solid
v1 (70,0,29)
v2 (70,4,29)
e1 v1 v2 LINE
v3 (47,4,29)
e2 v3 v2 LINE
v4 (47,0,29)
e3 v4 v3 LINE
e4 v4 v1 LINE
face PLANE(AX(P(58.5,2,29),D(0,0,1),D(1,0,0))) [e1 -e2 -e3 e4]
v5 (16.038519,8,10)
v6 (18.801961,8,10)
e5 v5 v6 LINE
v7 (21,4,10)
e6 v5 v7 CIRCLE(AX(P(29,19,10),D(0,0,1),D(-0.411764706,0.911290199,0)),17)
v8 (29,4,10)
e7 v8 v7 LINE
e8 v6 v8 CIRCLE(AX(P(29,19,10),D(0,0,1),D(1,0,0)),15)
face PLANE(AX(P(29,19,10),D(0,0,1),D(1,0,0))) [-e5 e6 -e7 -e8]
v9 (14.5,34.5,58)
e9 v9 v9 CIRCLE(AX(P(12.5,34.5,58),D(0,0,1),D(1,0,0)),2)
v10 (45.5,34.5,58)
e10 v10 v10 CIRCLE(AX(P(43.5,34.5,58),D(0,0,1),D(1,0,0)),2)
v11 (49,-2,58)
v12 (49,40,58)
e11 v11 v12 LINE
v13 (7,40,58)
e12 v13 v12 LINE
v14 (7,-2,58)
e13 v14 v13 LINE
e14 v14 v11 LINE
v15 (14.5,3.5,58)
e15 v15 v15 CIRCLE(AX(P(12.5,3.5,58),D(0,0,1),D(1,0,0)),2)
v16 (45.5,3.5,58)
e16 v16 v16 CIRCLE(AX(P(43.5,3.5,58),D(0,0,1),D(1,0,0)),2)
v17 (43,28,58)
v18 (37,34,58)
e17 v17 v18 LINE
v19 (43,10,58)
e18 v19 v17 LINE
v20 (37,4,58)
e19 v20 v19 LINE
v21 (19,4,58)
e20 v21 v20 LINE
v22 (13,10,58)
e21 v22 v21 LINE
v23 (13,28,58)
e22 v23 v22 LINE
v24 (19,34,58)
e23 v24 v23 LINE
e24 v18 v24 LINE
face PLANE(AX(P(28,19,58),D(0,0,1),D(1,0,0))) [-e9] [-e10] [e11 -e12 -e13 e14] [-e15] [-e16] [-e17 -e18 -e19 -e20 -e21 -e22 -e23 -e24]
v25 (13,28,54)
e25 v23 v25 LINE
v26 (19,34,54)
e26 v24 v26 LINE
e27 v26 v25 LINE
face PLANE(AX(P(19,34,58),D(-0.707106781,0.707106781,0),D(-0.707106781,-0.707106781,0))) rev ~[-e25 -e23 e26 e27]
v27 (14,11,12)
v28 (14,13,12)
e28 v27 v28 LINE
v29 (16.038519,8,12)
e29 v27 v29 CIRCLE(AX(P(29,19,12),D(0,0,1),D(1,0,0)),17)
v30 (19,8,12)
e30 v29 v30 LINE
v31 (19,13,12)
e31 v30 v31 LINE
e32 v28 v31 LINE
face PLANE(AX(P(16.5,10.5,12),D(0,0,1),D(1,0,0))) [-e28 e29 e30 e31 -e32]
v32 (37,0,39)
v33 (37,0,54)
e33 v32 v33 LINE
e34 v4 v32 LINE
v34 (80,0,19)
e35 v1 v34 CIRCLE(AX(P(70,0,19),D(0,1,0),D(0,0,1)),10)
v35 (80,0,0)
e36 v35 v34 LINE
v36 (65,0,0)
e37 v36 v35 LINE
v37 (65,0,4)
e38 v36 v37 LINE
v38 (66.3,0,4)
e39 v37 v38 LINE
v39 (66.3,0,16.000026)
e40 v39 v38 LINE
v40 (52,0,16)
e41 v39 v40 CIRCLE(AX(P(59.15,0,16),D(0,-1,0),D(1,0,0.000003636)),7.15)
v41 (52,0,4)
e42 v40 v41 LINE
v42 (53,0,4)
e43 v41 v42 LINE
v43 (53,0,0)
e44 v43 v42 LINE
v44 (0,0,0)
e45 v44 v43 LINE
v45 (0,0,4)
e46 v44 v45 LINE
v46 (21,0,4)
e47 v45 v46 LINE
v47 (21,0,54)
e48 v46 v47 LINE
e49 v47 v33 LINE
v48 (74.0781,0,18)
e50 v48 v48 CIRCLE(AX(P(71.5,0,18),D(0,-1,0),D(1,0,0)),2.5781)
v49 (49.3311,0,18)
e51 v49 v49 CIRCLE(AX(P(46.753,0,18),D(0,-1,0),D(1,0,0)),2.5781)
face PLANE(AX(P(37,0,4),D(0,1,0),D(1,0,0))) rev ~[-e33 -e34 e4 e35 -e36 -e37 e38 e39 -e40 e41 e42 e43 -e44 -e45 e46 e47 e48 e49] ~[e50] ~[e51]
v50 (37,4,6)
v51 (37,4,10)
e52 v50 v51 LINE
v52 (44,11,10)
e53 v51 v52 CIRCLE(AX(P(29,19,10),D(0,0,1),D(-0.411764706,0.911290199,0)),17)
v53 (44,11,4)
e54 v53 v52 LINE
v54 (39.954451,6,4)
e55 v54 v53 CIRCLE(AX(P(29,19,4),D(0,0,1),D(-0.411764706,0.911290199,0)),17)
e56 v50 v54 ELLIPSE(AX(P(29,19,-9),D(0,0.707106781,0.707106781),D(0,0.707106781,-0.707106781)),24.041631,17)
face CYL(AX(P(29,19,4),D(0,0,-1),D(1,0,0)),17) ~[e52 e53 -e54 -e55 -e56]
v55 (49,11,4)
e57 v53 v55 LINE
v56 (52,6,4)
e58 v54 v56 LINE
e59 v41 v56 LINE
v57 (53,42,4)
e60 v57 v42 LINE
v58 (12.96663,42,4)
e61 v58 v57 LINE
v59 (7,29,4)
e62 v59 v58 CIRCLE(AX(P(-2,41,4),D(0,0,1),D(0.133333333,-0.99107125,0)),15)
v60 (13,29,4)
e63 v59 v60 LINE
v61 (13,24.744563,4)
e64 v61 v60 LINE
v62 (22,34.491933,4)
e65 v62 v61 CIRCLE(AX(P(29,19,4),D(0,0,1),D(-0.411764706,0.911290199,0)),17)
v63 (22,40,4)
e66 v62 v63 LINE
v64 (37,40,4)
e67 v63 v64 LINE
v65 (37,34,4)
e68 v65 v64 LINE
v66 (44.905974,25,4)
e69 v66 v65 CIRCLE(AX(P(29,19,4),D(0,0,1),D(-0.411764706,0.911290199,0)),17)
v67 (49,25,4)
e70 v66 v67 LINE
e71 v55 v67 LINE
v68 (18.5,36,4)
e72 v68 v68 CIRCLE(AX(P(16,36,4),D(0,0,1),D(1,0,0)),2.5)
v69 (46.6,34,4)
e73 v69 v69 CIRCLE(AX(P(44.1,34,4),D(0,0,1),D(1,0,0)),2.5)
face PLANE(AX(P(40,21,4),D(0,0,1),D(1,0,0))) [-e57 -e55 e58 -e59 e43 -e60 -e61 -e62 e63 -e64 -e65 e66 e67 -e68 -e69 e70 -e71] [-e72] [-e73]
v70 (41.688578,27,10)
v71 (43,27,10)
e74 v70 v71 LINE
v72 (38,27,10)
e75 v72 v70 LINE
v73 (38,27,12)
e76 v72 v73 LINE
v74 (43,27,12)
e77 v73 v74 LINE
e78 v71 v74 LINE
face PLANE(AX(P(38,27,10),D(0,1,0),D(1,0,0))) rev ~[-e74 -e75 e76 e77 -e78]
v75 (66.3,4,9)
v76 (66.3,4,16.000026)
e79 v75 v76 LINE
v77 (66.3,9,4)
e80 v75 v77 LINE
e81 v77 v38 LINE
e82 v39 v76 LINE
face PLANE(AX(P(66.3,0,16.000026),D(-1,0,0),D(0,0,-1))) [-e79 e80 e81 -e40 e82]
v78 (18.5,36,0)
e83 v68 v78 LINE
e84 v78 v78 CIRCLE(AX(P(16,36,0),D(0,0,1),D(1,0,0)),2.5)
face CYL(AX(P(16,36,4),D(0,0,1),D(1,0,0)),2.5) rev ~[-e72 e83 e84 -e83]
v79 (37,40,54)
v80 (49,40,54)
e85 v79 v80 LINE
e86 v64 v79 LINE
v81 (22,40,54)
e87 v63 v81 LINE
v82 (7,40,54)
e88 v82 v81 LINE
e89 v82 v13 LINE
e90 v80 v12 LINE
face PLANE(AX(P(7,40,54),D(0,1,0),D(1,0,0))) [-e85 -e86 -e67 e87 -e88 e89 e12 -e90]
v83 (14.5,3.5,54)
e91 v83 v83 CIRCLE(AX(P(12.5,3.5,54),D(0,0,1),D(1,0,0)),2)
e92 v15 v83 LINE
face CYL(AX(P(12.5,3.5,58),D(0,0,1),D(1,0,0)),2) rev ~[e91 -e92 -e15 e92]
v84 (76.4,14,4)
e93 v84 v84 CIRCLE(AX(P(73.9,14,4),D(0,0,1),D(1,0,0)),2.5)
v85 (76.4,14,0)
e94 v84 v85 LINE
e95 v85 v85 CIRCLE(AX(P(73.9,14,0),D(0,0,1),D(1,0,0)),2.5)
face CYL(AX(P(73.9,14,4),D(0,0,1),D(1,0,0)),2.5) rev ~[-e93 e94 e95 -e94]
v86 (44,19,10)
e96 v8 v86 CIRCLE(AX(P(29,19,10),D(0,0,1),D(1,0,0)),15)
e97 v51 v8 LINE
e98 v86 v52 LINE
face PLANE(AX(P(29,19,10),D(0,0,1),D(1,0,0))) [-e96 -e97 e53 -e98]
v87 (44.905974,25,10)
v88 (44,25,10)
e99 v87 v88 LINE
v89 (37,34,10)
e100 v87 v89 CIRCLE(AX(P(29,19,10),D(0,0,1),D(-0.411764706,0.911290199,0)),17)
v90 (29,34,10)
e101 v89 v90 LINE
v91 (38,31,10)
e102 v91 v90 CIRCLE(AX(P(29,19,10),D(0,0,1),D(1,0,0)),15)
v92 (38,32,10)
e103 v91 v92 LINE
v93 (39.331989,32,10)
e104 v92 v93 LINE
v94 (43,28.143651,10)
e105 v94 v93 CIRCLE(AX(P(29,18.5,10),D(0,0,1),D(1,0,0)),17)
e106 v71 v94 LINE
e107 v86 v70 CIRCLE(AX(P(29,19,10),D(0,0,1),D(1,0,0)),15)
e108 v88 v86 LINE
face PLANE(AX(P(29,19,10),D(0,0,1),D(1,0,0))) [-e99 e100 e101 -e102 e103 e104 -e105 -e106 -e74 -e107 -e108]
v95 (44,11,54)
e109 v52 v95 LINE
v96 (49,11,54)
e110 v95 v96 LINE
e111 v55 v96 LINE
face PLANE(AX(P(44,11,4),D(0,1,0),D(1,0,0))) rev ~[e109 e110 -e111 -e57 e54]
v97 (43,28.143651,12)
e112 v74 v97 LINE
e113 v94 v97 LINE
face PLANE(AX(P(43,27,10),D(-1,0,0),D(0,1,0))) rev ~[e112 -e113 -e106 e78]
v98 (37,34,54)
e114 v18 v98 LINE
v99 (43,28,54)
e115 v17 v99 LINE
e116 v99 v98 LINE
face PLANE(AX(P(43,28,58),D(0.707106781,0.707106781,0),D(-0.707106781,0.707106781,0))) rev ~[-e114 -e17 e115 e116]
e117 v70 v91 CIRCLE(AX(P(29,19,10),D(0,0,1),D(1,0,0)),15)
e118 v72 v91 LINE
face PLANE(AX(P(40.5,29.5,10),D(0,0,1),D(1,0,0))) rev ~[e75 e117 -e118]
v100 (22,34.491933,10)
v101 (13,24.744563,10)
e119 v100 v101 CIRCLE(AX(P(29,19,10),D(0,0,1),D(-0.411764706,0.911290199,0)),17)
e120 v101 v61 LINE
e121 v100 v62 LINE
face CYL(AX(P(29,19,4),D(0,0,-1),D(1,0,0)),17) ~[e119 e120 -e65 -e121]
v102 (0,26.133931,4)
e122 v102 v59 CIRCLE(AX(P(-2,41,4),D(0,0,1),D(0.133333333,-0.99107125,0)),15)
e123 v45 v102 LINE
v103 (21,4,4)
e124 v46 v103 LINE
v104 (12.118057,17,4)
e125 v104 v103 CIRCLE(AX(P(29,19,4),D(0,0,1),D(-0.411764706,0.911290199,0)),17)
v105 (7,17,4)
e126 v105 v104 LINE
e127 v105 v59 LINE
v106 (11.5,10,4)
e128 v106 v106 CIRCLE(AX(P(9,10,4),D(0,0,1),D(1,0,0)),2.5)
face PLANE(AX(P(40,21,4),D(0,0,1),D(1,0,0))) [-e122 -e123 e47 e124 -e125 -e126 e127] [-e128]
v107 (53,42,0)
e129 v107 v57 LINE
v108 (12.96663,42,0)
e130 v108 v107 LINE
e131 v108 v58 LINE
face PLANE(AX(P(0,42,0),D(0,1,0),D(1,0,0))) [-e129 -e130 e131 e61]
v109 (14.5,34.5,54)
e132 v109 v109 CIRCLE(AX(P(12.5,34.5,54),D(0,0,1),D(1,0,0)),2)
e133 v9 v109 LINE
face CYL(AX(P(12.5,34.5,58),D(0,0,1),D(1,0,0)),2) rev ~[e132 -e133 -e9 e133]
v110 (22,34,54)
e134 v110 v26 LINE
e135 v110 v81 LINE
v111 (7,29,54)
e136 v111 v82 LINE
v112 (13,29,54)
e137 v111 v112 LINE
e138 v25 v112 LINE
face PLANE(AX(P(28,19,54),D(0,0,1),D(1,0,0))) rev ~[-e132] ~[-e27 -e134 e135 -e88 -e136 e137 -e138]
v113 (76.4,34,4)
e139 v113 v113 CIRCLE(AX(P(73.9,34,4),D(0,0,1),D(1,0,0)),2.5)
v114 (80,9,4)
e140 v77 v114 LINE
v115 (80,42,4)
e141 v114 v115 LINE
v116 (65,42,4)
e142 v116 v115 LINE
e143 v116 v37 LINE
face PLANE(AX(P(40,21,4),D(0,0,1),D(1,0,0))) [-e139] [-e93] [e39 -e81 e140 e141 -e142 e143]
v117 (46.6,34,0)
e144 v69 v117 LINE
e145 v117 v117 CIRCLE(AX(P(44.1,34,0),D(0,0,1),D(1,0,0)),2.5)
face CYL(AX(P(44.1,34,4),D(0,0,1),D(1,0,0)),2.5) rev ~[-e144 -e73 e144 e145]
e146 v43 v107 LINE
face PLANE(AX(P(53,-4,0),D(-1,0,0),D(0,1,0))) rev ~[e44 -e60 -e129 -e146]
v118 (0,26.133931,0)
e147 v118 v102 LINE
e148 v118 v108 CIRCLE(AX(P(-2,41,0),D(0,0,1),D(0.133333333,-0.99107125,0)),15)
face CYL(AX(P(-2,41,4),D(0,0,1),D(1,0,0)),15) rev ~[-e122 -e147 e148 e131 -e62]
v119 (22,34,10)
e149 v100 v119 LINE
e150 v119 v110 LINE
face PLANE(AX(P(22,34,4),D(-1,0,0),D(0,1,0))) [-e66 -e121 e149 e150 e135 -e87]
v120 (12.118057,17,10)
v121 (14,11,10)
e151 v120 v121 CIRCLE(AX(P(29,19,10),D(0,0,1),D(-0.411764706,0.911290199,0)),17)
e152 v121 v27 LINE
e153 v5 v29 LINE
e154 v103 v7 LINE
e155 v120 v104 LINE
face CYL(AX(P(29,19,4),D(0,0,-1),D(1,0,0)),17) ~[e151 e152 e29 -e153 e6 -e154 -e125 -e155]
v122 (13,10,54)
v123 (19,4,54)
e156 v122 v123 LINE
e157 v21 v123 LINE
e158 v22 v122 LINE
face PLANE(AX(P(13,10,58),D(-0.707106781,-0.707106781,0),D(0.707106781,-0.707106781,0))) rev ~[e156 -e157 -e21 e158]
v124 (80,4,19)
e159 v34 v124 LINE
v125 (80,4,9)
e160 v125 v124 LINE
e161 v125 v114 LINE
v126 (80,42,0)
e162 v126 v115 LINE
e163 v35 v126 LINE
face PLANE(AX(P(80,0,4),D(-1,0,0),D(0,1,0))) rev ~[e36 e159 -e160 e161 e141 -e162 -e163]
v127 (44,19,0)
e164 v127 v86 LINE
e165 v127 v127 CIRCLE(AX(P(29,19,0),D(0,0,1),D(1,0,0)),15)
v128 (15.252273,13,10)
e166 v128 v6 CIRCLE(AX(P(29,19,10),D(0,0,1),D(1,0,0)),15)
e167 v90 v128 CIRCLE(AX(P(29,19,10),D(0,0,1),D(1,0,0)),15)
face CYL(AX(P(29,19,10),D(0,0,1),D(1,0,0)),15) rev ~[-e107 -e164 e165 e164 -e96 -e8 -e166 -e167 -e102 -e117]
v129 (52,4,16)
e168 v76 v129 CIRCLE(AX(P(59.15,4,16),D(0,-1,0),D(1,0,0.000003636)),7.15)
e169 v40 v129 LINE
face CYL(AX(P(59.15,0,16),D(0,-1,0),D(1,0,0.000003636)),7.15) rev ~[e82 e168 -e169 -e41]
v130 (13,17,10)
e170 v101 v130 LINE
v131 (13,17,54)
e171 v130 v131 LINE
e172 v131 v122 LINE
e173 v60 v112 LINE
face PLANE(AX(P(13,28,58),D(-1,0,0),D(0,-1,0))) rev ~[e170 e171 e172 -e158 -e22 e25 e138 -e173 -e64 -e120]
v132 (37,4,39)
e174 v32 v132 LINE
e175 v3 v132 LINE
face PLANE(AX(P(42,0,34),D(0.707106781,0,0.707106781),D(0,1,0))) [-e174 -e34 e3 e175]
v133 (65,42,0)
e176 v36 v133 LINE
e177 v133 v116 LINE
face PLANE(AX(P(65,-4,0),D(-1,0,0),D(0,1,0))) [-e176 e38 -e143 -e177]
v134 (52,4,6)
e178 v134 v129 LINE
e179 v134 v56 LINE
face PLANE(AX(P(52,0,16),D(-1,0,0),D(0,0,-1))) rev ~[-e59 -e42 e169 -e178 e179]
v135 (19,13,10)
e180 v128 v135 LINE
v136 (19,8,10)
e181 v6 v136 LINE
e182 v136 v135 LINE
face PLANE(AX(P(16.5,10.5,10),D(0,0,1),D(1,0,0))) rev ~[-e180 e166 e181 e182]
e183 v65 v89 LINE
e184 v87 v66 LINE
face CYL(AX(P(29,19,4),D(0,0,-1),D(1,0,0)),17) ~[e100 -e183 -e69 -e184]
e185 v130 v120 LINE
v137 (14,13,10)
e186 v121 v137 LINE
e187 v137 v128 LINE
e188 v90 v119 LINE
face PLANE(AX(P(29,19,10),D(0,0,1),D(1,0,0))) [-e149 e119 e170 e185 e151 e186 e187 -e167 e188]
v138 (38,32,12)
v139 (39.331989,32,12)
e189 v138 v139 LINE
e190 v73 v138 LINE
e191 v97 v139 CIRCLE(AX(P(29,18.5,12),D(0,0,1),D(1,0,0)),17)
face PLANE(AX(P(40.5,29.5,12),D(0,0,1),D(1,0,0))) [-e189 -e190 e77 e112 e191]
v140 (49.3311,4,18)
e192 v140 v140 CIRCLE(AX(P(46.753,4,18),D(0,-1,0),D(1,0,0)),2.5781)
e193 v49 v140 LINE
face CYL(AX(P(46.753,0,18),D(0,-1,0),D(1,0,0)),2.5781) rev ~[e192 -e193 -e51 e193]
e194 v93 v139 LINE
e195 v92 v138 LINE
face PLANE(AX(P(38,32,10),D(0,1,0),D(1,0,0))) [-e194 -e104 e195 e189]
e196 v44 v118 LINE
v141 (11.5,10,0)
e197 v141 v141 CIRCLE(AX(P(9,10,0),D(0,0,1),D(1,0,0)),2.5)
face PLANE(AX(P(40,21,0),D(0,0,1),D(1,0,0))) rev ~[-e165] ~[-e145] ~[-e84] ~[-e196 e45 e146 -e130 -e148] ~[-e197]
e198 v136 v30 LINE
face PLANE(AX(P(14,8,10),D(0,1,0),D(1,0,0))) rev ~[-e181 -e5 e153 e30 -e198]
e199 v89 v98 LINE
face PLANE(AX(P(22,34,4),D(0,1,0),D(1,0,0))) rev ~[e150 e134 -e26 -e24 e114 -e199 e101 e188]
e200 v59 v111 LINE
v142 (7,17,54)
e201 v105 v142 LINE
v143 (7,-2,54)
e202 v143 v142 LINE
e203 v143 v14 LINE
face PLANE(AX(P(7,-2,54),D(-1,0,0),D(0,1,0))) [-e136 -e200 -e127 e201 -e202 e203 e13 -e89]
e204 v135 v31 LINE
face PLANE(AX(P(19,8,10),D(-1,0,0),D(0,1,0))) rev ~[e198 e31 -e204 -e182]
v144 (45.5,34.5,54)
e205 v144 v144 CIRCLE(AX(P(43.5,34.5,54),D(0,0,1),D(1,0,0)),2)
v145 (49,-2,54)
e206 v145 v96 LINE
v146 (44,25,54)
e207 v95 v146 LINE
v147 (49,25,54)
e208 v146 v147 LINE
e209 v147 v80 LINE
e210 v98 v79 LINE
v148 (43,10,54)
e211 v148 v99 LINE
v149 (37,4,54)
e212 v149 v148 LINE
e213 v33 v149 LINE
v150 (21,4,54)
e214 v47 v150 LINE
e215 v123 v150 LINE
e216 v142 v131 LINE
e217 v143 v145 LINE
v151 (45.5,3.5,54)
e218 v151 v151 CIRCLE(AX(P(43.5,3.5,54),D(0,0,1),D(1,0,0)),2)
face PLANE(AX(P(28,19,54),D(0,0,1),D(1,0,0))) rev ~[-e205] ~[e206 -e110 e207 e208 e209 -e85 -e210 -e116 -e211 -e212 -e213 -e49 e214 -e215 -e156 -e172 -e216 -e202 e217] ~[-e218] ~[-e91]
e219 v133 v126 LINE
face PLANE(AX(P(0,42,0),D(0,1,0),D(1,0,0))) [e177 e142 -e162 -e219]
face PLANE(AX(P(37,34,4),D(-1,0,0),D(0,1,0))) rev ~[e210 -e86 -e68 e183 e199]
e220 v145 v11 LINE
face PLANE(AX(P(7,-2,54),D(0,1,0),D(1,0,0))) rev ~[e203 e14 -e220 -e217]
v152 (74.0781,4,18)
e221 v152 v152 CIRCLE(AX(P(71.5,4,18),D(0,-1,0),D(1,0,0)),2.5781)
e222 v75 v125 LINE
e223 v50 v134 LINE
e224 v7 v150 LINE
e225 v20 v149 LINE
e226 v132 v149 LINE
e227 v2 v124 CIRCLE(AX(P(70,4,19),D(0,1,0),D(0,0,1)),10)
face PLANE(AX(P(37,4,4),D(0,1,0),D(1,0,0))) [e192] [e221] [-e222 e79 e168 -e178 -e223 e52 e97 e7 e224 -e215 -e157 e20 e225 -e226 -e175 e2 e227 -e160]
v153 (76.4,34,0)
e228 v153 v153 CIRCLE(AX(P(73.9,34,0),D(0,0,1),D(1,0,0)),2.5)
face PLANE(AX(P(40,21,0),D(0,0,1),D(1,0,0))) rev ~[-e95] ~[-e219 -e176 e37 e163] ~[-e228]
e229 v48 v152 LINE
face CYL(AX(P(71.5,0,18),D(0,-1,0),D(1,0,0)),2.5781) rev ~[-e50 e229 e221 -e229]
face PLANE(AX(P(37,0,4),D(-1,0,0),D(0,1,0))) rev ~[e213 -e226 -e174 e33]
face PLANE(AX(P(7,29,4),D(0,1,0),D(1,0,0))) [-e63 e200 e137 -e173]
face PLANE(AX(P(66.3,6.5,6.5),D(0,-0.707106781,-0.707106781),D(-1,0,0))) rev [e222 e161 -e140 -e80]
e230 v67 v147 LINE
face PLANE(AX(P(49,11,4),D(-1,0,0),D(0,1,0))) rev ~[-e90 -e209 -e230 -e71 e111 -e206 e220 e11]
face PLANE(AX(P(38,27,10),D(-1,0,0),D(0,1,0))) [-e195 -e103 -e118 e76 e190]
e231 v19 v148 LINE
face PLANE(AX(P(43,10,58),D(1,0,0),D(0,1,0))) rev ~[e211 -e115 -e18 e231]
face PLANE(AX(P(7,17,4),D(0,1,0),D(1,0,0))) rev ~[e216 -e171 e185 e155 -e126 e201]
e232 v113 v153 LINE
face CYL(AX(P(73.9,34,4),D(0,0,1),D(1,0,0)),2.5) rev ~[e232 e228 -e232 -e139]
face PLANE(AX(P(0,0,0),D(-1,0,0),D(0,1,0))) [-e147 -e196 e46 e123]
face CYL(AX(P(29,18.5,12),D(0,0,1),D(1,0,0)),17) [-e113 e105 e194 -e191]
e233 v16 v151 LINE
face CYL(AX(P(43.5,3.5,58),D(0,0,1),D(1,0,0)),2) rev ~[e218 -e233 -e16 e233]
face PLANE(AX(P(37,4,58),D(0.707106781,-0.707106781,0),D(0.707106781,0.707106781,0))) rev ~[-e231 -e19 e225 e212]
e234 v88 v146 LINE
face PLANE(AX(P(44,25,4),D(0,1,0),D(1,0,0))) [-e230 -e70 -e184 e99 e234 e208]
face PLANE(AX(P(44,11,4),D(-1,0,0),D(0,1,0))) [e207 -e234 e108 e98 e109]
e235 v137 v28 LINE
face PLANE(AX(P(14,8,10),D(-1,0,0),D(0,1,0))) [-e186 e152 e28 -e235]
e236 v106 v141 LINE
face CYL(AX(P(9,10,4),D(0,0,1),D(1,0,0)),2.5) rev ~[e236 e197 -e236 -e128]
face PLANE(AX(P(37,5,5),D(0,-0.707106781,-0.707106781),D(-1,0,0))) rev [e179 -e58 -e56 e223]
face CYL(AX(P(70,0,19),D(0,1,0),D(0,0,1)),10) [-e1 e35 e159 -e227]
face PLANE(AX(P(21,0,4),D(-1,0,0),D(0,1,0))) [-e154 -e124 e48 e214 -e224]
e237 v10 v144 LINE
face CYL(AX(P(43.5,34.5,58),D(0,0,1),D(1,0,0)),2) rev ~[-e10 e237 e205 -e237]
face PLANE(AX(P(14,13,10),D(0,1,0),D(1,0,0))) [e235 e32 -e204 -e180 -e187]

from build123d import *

# Parameters (mm, degrees)
BOX009_W        = 12
BOX009_H        = 50
BOX009_DEPTH    = 10
BOX008_W        = 43
BOX008_H        = 4
BOX008_DEPTH    = 25
SKETCH006_R     = 2.5781
POCKET005_DEPTH = 4.001
FILLET_R        = 10
BOX007_W        = 5
BOX007_H        = 5
BOX007_DEPTH    = 2
SKETCH004_R     = 22
SKETCH004_R_2   = 17
POCKET003_DEPTH = 4
BOX001_W        = 15
BOX001_H        = 6
BOX001_DEPTH    = 50
BOX002_W        = 16
BOX002_H        = 4
BOX002_DEPTH    = 50
BOX004_W        = 6
BOX004_H        = 12
BOX004_DEPTH    = 50
BOX003_W        = 5
BOX003_H        = 14
BOX003_DEPTH    = 50
BOX_W           = 80
BOX_H           = 42
BOX_DEPTH       = 4
SKETCH_R        = 15
SKETCH_R_2      = 2.5
POCKET_DEPTH    = 4.001
SKETCH001_R     = 17
PAD_DEPTH       = 6
SKETCH002_R     = 15
POCKET001_DEPTH = 10.001
BOX005_W        = 42
BOX005_H        = 42
BOX005_DEPTH    = 4
SKETCH003_R     = 2
POCKET002_DEPTH = 4.001
BOX006_W        = 5
BOX006_H        = 5
BOX006_DEPTH    = 2
SKETCH005_R     = 22
SKETCH005_R_2   = 17
POCKET004_DEPTH = 4
CHAMFER_SIZE    = 5
CHAMFER001_SIZE = 2
CHAMFER002_SIZE = 10


with BuildPart() as cube008:
    # Box009 → Box009 (new body)
    with BuildSketch(Plane(origin=(53, -4, 0), x_dir=(1, 0, 0), z_dir=(0, 0, 1))):
        with Locations((6, 25)):
            Rectangle(BOX009_W, BOX009_H)
    extrude(amount=BOX009_DEPTH)


with BuildPart() as fillet_body:
    # Box008 → Box008 (new body)
    with BuildSketch(Plane(origin=(37, 0, 4), x_dir=(1, 0, 0), z_dir=(0, 0, 1))):
        with Locations((21.5, 2)):
            Rectangle(BOX008_W, BOX008_H)
    extrude(amount=BOX008_DEPTH)

    # Sketch006 → Pocket005 (cut, through all)
    with BuildSketch(Plane(origin=(37, 0, 4), x_dir=(1, 0, 0), z_dir=(0, -1, 0))):
        with Locations((34.5, 14)):
            Circle(SKETCH006_R)
        with Locations((9.753, 14)):
            Circle(SKETCH006_R)
        with BuildLine():
            ThreePointArc((29.3, 12.000026), (22.149987, 19.15), (15, 12))
            Line((15, 12), (15, 0))
            Line((15, 0), (29.3, 0))
            Line((29.3, 12.000026), (29.3, 0))
        make_face()
    extrude(amount=-POCKET005_DEPTH, mode=Mode.SUBTRACT)

    # Fillet
    fillet_edges = [fillet_body.edges().sort_by_distance(p)[0] for p in [
        (80, 2, 29),
    ]]
    fillet(fillet_edges, radius=FILLET_R)


with BuildPart() as pocket003:
    # Box007 → Box007 (new body)
    with BuildSketch(Plane(origin=(38, 27, 10), x_dir=(1, 0, 0), z_dir=(0, 0, 1))):
        with Locations((2.5, 2.5)):
            Rectangle(BOX007_W, BOX007_H)
    extrude(amount=BOX007_DEPTH)

    # Sketch004 → Pocket003 (cut)
    with BuildSketch(Plane(origin=(38, 27, 12), x_dir=(1, 0, 0), z_dir=(0, 0, 1))):
        with Locations((-9, -8.5)):
            Circle(SKETCH004_R)
        with Locations((-9, -8.5)):
            Circle(SKETCH004_R_2, mode=Mode.SUBTRACT)
    extrude(amount=-POCKET003_DEPTH, mode=Mode.SUBTRACT)


with BuildPart() as cube:
    # Box001 → Box001 (new body)
    with BuildSketch(Plane(origin=(22, 34, 4), x_dir=(1, 0, 0), z_dir=(0, 0, 1))):
        with Locations((7.5, 3)):
            Rectangle(BOX001_W, BOX001_H)
    extrude(amount=BOX001_DEPTH)


with BuildPart() as cube001:
    # Box002 → Box002 (new body)
    with BuildSketch(Plane(origin=(21, 0, 4), x_dir=(1, 0, 0), z_dir=(0, 0, 1))):
        with Locations((8, 2)):
            Rectangle(BOX002_W, BOX002_H)
    extrude(amount=BOX002_DEPTH)


with BuildPart() as cube003:
    # Box004 → Box004 (new body)
    with BuildSketch(Plane(origin=(7, 17, 4), x_dir=(1, 0, 0), z_dir=(0, 0, 1))):
        with Locations((3, 6)):
            Rectangle(BOX004_W, BOX004_H)
    extrude(amount=BOX004_DEPTH)


with BuildPart() as cube002:
    # Box003 → Box003 (new body)
    with BuildSketch(Plane(origin=(44, 11, 4), x_dir=(1, 0, 0), z_dir=(0, 0, 1))):
        with Locations((2.5, 7)):
            Rectangle(BOX003_W, BOX003_H)
    extrude(amount=BOX003_DEPTH)


with BuildPart() as fusion:
    # Box → Box (new body)
    with BuildSketch(Plane.XY):
        with Locations((40, 21)):
            Rectangle(BOX_W, BOX_H)
    extrude(amount=BOX_DEPTH)

    # Sketch → Pocket (cut, through all)
    with BuildSketch(Plane.XY.offset(4)):
        with Locations((-2, 41)):
            Circle(SKETCH_R)
        with Locations((29, 19)):
            Circle(SKETCH_R)
        with Locations((9, 10)):
            Circle(SKETCH_R_2)
        with Locations((16, 36)):
            Circle(SKETCH_R_2)
        with Locations((44.1, 34)):
            Circle(SKETCH_R_2)
        with Locations((73.9, 34)):
            Circle(SKETCH_R_2)
        with Locations((73.9, 14)):
            Circle(SKETCH_R_2)
    extrude(amount=-POCKET_DEPTH, mode=Mode.SUBTRACT)

    # Sketch001 → Pad (new body)
    with BuildSketch(Plane.XY.offset(4)):
        with Locations((29, 19)):
            Circle(SKETCH001_R)
    extrude(amount=PAD_DEPTH)

    # Sketch002 → Pocket001 (cut, through all)
    with BuildSketch(Plane.XY.offset(10)):
        with Locations((29, 19)):
            Circle(SKETCH002_R)
    extrude(amount=-POCKET001_DEPTH, mode=Mode.SUBTRACT)

    # Fusion: union Cube, Cube001, Cube003, Cube002
    add(cube.part)
    add(cube001.part)
    add(cube003.part)
    add(cube002.part)


with BuildPart() as fusion001:
    # Box005 → Box005 (new body)
    with BuildSketch(Plane(origin=(7, -2, 54), x_dir=(1, 0, 0), z_dir=(0, 0, 1))):
        with Locations((21, 21)):
            Rectangle(BOX005_W, BOX005_H)
    extrude(amount=BOX005_DEPTH)

    # Sketch003 → Pocket002 (cut, through all)
    with BuildSketch(Plane(origin=(7, -2, 58), x_dir=(1, 0, 0), z_dir=(0, 0, 1))):
        with Locations((5.5, 36.5)):
            Circle(SKETCH003_R)
        with Locations((36.5, 36.5)):
            Circle(SKETCH003_R)
        with Locations((5.5, 5.5)):
            Circle(SKETCH003_R)
        with Locations((36.5, 5.5)):
            Circle(SKETCH003_R)
        Polygon((6, 30), (6, 12), (12, 6), (30, 6), (36, 12), (36, 30), (30, 36), (12, 36), align=None)
    extrude(amount=-POCKET002_DEPTH, mode=Mode.SUBTRACT)

    # Fusion001: union Fusion
    add(fusion.part)


with BuildPart() as chamfer002:
    # Box006 → Box006 (new body)
    with BuildSketch(Plane(origin=(14, 8, 10), x_dir=(1, 0, 0), z_dir=(0, 0, 1))):
        with Locations((2.5, 2.5)):
            Rectangle(BOX006_W, BOX006_H)
    extrude(amount=BOX006_DEPTH)

    # Sketch005 → Pocket004 (cut)
    with BuildSketch(Plane(origin=(14, 8, 12), x_dir=(1, 0, 0), z_dir=(0, 0, 1))):
        with Locations((15, 11)):
            Circle(SKETCH005_R)
        with Locations((15, 11)):
            Circle(SKETCH005_R_2, mode=Mode.SUBTRACT)
    extrude(amount=-POCKET004_DEPTH, mode=Mode.SUBTRACT)

    # Fusion002: union Pocket003, Fusion001
    add(pocket003.part)
    add(fusion001.part)

    # Fusion003: union Fillet body
    add(fillet_body.part)

    # Chamfer
    chamfer_edges = [chamfer002.edges().sort_by_distance(p)[0] for p in [
        (73.15, 4, 4),
    ]]
    chamfer(chamfer_edges, length=CHAMFER_SIZE)

    # Chamfer001
    chamfer001_edges = [chamfer002.edges().sort_by_distance(p)[0] for p in [
        (44.5, 4, 4),
    ]]
    chamfer(chamfer001_edges, length=CHAMFER001_SIZE)

    # Cut: cut Cube008
    add(cube008.part, mode=Mode.SUBTRACT)

    # Chamfer002
    chamfer002_edges = [chamfer002.edges().sort_by_distance(p)[0] for p in [
        (37, 2, 29),
    ]]
    chamfer(chamfer002_edges, length=CHAMFER002_SIZE)


solid = chamfer002.part
